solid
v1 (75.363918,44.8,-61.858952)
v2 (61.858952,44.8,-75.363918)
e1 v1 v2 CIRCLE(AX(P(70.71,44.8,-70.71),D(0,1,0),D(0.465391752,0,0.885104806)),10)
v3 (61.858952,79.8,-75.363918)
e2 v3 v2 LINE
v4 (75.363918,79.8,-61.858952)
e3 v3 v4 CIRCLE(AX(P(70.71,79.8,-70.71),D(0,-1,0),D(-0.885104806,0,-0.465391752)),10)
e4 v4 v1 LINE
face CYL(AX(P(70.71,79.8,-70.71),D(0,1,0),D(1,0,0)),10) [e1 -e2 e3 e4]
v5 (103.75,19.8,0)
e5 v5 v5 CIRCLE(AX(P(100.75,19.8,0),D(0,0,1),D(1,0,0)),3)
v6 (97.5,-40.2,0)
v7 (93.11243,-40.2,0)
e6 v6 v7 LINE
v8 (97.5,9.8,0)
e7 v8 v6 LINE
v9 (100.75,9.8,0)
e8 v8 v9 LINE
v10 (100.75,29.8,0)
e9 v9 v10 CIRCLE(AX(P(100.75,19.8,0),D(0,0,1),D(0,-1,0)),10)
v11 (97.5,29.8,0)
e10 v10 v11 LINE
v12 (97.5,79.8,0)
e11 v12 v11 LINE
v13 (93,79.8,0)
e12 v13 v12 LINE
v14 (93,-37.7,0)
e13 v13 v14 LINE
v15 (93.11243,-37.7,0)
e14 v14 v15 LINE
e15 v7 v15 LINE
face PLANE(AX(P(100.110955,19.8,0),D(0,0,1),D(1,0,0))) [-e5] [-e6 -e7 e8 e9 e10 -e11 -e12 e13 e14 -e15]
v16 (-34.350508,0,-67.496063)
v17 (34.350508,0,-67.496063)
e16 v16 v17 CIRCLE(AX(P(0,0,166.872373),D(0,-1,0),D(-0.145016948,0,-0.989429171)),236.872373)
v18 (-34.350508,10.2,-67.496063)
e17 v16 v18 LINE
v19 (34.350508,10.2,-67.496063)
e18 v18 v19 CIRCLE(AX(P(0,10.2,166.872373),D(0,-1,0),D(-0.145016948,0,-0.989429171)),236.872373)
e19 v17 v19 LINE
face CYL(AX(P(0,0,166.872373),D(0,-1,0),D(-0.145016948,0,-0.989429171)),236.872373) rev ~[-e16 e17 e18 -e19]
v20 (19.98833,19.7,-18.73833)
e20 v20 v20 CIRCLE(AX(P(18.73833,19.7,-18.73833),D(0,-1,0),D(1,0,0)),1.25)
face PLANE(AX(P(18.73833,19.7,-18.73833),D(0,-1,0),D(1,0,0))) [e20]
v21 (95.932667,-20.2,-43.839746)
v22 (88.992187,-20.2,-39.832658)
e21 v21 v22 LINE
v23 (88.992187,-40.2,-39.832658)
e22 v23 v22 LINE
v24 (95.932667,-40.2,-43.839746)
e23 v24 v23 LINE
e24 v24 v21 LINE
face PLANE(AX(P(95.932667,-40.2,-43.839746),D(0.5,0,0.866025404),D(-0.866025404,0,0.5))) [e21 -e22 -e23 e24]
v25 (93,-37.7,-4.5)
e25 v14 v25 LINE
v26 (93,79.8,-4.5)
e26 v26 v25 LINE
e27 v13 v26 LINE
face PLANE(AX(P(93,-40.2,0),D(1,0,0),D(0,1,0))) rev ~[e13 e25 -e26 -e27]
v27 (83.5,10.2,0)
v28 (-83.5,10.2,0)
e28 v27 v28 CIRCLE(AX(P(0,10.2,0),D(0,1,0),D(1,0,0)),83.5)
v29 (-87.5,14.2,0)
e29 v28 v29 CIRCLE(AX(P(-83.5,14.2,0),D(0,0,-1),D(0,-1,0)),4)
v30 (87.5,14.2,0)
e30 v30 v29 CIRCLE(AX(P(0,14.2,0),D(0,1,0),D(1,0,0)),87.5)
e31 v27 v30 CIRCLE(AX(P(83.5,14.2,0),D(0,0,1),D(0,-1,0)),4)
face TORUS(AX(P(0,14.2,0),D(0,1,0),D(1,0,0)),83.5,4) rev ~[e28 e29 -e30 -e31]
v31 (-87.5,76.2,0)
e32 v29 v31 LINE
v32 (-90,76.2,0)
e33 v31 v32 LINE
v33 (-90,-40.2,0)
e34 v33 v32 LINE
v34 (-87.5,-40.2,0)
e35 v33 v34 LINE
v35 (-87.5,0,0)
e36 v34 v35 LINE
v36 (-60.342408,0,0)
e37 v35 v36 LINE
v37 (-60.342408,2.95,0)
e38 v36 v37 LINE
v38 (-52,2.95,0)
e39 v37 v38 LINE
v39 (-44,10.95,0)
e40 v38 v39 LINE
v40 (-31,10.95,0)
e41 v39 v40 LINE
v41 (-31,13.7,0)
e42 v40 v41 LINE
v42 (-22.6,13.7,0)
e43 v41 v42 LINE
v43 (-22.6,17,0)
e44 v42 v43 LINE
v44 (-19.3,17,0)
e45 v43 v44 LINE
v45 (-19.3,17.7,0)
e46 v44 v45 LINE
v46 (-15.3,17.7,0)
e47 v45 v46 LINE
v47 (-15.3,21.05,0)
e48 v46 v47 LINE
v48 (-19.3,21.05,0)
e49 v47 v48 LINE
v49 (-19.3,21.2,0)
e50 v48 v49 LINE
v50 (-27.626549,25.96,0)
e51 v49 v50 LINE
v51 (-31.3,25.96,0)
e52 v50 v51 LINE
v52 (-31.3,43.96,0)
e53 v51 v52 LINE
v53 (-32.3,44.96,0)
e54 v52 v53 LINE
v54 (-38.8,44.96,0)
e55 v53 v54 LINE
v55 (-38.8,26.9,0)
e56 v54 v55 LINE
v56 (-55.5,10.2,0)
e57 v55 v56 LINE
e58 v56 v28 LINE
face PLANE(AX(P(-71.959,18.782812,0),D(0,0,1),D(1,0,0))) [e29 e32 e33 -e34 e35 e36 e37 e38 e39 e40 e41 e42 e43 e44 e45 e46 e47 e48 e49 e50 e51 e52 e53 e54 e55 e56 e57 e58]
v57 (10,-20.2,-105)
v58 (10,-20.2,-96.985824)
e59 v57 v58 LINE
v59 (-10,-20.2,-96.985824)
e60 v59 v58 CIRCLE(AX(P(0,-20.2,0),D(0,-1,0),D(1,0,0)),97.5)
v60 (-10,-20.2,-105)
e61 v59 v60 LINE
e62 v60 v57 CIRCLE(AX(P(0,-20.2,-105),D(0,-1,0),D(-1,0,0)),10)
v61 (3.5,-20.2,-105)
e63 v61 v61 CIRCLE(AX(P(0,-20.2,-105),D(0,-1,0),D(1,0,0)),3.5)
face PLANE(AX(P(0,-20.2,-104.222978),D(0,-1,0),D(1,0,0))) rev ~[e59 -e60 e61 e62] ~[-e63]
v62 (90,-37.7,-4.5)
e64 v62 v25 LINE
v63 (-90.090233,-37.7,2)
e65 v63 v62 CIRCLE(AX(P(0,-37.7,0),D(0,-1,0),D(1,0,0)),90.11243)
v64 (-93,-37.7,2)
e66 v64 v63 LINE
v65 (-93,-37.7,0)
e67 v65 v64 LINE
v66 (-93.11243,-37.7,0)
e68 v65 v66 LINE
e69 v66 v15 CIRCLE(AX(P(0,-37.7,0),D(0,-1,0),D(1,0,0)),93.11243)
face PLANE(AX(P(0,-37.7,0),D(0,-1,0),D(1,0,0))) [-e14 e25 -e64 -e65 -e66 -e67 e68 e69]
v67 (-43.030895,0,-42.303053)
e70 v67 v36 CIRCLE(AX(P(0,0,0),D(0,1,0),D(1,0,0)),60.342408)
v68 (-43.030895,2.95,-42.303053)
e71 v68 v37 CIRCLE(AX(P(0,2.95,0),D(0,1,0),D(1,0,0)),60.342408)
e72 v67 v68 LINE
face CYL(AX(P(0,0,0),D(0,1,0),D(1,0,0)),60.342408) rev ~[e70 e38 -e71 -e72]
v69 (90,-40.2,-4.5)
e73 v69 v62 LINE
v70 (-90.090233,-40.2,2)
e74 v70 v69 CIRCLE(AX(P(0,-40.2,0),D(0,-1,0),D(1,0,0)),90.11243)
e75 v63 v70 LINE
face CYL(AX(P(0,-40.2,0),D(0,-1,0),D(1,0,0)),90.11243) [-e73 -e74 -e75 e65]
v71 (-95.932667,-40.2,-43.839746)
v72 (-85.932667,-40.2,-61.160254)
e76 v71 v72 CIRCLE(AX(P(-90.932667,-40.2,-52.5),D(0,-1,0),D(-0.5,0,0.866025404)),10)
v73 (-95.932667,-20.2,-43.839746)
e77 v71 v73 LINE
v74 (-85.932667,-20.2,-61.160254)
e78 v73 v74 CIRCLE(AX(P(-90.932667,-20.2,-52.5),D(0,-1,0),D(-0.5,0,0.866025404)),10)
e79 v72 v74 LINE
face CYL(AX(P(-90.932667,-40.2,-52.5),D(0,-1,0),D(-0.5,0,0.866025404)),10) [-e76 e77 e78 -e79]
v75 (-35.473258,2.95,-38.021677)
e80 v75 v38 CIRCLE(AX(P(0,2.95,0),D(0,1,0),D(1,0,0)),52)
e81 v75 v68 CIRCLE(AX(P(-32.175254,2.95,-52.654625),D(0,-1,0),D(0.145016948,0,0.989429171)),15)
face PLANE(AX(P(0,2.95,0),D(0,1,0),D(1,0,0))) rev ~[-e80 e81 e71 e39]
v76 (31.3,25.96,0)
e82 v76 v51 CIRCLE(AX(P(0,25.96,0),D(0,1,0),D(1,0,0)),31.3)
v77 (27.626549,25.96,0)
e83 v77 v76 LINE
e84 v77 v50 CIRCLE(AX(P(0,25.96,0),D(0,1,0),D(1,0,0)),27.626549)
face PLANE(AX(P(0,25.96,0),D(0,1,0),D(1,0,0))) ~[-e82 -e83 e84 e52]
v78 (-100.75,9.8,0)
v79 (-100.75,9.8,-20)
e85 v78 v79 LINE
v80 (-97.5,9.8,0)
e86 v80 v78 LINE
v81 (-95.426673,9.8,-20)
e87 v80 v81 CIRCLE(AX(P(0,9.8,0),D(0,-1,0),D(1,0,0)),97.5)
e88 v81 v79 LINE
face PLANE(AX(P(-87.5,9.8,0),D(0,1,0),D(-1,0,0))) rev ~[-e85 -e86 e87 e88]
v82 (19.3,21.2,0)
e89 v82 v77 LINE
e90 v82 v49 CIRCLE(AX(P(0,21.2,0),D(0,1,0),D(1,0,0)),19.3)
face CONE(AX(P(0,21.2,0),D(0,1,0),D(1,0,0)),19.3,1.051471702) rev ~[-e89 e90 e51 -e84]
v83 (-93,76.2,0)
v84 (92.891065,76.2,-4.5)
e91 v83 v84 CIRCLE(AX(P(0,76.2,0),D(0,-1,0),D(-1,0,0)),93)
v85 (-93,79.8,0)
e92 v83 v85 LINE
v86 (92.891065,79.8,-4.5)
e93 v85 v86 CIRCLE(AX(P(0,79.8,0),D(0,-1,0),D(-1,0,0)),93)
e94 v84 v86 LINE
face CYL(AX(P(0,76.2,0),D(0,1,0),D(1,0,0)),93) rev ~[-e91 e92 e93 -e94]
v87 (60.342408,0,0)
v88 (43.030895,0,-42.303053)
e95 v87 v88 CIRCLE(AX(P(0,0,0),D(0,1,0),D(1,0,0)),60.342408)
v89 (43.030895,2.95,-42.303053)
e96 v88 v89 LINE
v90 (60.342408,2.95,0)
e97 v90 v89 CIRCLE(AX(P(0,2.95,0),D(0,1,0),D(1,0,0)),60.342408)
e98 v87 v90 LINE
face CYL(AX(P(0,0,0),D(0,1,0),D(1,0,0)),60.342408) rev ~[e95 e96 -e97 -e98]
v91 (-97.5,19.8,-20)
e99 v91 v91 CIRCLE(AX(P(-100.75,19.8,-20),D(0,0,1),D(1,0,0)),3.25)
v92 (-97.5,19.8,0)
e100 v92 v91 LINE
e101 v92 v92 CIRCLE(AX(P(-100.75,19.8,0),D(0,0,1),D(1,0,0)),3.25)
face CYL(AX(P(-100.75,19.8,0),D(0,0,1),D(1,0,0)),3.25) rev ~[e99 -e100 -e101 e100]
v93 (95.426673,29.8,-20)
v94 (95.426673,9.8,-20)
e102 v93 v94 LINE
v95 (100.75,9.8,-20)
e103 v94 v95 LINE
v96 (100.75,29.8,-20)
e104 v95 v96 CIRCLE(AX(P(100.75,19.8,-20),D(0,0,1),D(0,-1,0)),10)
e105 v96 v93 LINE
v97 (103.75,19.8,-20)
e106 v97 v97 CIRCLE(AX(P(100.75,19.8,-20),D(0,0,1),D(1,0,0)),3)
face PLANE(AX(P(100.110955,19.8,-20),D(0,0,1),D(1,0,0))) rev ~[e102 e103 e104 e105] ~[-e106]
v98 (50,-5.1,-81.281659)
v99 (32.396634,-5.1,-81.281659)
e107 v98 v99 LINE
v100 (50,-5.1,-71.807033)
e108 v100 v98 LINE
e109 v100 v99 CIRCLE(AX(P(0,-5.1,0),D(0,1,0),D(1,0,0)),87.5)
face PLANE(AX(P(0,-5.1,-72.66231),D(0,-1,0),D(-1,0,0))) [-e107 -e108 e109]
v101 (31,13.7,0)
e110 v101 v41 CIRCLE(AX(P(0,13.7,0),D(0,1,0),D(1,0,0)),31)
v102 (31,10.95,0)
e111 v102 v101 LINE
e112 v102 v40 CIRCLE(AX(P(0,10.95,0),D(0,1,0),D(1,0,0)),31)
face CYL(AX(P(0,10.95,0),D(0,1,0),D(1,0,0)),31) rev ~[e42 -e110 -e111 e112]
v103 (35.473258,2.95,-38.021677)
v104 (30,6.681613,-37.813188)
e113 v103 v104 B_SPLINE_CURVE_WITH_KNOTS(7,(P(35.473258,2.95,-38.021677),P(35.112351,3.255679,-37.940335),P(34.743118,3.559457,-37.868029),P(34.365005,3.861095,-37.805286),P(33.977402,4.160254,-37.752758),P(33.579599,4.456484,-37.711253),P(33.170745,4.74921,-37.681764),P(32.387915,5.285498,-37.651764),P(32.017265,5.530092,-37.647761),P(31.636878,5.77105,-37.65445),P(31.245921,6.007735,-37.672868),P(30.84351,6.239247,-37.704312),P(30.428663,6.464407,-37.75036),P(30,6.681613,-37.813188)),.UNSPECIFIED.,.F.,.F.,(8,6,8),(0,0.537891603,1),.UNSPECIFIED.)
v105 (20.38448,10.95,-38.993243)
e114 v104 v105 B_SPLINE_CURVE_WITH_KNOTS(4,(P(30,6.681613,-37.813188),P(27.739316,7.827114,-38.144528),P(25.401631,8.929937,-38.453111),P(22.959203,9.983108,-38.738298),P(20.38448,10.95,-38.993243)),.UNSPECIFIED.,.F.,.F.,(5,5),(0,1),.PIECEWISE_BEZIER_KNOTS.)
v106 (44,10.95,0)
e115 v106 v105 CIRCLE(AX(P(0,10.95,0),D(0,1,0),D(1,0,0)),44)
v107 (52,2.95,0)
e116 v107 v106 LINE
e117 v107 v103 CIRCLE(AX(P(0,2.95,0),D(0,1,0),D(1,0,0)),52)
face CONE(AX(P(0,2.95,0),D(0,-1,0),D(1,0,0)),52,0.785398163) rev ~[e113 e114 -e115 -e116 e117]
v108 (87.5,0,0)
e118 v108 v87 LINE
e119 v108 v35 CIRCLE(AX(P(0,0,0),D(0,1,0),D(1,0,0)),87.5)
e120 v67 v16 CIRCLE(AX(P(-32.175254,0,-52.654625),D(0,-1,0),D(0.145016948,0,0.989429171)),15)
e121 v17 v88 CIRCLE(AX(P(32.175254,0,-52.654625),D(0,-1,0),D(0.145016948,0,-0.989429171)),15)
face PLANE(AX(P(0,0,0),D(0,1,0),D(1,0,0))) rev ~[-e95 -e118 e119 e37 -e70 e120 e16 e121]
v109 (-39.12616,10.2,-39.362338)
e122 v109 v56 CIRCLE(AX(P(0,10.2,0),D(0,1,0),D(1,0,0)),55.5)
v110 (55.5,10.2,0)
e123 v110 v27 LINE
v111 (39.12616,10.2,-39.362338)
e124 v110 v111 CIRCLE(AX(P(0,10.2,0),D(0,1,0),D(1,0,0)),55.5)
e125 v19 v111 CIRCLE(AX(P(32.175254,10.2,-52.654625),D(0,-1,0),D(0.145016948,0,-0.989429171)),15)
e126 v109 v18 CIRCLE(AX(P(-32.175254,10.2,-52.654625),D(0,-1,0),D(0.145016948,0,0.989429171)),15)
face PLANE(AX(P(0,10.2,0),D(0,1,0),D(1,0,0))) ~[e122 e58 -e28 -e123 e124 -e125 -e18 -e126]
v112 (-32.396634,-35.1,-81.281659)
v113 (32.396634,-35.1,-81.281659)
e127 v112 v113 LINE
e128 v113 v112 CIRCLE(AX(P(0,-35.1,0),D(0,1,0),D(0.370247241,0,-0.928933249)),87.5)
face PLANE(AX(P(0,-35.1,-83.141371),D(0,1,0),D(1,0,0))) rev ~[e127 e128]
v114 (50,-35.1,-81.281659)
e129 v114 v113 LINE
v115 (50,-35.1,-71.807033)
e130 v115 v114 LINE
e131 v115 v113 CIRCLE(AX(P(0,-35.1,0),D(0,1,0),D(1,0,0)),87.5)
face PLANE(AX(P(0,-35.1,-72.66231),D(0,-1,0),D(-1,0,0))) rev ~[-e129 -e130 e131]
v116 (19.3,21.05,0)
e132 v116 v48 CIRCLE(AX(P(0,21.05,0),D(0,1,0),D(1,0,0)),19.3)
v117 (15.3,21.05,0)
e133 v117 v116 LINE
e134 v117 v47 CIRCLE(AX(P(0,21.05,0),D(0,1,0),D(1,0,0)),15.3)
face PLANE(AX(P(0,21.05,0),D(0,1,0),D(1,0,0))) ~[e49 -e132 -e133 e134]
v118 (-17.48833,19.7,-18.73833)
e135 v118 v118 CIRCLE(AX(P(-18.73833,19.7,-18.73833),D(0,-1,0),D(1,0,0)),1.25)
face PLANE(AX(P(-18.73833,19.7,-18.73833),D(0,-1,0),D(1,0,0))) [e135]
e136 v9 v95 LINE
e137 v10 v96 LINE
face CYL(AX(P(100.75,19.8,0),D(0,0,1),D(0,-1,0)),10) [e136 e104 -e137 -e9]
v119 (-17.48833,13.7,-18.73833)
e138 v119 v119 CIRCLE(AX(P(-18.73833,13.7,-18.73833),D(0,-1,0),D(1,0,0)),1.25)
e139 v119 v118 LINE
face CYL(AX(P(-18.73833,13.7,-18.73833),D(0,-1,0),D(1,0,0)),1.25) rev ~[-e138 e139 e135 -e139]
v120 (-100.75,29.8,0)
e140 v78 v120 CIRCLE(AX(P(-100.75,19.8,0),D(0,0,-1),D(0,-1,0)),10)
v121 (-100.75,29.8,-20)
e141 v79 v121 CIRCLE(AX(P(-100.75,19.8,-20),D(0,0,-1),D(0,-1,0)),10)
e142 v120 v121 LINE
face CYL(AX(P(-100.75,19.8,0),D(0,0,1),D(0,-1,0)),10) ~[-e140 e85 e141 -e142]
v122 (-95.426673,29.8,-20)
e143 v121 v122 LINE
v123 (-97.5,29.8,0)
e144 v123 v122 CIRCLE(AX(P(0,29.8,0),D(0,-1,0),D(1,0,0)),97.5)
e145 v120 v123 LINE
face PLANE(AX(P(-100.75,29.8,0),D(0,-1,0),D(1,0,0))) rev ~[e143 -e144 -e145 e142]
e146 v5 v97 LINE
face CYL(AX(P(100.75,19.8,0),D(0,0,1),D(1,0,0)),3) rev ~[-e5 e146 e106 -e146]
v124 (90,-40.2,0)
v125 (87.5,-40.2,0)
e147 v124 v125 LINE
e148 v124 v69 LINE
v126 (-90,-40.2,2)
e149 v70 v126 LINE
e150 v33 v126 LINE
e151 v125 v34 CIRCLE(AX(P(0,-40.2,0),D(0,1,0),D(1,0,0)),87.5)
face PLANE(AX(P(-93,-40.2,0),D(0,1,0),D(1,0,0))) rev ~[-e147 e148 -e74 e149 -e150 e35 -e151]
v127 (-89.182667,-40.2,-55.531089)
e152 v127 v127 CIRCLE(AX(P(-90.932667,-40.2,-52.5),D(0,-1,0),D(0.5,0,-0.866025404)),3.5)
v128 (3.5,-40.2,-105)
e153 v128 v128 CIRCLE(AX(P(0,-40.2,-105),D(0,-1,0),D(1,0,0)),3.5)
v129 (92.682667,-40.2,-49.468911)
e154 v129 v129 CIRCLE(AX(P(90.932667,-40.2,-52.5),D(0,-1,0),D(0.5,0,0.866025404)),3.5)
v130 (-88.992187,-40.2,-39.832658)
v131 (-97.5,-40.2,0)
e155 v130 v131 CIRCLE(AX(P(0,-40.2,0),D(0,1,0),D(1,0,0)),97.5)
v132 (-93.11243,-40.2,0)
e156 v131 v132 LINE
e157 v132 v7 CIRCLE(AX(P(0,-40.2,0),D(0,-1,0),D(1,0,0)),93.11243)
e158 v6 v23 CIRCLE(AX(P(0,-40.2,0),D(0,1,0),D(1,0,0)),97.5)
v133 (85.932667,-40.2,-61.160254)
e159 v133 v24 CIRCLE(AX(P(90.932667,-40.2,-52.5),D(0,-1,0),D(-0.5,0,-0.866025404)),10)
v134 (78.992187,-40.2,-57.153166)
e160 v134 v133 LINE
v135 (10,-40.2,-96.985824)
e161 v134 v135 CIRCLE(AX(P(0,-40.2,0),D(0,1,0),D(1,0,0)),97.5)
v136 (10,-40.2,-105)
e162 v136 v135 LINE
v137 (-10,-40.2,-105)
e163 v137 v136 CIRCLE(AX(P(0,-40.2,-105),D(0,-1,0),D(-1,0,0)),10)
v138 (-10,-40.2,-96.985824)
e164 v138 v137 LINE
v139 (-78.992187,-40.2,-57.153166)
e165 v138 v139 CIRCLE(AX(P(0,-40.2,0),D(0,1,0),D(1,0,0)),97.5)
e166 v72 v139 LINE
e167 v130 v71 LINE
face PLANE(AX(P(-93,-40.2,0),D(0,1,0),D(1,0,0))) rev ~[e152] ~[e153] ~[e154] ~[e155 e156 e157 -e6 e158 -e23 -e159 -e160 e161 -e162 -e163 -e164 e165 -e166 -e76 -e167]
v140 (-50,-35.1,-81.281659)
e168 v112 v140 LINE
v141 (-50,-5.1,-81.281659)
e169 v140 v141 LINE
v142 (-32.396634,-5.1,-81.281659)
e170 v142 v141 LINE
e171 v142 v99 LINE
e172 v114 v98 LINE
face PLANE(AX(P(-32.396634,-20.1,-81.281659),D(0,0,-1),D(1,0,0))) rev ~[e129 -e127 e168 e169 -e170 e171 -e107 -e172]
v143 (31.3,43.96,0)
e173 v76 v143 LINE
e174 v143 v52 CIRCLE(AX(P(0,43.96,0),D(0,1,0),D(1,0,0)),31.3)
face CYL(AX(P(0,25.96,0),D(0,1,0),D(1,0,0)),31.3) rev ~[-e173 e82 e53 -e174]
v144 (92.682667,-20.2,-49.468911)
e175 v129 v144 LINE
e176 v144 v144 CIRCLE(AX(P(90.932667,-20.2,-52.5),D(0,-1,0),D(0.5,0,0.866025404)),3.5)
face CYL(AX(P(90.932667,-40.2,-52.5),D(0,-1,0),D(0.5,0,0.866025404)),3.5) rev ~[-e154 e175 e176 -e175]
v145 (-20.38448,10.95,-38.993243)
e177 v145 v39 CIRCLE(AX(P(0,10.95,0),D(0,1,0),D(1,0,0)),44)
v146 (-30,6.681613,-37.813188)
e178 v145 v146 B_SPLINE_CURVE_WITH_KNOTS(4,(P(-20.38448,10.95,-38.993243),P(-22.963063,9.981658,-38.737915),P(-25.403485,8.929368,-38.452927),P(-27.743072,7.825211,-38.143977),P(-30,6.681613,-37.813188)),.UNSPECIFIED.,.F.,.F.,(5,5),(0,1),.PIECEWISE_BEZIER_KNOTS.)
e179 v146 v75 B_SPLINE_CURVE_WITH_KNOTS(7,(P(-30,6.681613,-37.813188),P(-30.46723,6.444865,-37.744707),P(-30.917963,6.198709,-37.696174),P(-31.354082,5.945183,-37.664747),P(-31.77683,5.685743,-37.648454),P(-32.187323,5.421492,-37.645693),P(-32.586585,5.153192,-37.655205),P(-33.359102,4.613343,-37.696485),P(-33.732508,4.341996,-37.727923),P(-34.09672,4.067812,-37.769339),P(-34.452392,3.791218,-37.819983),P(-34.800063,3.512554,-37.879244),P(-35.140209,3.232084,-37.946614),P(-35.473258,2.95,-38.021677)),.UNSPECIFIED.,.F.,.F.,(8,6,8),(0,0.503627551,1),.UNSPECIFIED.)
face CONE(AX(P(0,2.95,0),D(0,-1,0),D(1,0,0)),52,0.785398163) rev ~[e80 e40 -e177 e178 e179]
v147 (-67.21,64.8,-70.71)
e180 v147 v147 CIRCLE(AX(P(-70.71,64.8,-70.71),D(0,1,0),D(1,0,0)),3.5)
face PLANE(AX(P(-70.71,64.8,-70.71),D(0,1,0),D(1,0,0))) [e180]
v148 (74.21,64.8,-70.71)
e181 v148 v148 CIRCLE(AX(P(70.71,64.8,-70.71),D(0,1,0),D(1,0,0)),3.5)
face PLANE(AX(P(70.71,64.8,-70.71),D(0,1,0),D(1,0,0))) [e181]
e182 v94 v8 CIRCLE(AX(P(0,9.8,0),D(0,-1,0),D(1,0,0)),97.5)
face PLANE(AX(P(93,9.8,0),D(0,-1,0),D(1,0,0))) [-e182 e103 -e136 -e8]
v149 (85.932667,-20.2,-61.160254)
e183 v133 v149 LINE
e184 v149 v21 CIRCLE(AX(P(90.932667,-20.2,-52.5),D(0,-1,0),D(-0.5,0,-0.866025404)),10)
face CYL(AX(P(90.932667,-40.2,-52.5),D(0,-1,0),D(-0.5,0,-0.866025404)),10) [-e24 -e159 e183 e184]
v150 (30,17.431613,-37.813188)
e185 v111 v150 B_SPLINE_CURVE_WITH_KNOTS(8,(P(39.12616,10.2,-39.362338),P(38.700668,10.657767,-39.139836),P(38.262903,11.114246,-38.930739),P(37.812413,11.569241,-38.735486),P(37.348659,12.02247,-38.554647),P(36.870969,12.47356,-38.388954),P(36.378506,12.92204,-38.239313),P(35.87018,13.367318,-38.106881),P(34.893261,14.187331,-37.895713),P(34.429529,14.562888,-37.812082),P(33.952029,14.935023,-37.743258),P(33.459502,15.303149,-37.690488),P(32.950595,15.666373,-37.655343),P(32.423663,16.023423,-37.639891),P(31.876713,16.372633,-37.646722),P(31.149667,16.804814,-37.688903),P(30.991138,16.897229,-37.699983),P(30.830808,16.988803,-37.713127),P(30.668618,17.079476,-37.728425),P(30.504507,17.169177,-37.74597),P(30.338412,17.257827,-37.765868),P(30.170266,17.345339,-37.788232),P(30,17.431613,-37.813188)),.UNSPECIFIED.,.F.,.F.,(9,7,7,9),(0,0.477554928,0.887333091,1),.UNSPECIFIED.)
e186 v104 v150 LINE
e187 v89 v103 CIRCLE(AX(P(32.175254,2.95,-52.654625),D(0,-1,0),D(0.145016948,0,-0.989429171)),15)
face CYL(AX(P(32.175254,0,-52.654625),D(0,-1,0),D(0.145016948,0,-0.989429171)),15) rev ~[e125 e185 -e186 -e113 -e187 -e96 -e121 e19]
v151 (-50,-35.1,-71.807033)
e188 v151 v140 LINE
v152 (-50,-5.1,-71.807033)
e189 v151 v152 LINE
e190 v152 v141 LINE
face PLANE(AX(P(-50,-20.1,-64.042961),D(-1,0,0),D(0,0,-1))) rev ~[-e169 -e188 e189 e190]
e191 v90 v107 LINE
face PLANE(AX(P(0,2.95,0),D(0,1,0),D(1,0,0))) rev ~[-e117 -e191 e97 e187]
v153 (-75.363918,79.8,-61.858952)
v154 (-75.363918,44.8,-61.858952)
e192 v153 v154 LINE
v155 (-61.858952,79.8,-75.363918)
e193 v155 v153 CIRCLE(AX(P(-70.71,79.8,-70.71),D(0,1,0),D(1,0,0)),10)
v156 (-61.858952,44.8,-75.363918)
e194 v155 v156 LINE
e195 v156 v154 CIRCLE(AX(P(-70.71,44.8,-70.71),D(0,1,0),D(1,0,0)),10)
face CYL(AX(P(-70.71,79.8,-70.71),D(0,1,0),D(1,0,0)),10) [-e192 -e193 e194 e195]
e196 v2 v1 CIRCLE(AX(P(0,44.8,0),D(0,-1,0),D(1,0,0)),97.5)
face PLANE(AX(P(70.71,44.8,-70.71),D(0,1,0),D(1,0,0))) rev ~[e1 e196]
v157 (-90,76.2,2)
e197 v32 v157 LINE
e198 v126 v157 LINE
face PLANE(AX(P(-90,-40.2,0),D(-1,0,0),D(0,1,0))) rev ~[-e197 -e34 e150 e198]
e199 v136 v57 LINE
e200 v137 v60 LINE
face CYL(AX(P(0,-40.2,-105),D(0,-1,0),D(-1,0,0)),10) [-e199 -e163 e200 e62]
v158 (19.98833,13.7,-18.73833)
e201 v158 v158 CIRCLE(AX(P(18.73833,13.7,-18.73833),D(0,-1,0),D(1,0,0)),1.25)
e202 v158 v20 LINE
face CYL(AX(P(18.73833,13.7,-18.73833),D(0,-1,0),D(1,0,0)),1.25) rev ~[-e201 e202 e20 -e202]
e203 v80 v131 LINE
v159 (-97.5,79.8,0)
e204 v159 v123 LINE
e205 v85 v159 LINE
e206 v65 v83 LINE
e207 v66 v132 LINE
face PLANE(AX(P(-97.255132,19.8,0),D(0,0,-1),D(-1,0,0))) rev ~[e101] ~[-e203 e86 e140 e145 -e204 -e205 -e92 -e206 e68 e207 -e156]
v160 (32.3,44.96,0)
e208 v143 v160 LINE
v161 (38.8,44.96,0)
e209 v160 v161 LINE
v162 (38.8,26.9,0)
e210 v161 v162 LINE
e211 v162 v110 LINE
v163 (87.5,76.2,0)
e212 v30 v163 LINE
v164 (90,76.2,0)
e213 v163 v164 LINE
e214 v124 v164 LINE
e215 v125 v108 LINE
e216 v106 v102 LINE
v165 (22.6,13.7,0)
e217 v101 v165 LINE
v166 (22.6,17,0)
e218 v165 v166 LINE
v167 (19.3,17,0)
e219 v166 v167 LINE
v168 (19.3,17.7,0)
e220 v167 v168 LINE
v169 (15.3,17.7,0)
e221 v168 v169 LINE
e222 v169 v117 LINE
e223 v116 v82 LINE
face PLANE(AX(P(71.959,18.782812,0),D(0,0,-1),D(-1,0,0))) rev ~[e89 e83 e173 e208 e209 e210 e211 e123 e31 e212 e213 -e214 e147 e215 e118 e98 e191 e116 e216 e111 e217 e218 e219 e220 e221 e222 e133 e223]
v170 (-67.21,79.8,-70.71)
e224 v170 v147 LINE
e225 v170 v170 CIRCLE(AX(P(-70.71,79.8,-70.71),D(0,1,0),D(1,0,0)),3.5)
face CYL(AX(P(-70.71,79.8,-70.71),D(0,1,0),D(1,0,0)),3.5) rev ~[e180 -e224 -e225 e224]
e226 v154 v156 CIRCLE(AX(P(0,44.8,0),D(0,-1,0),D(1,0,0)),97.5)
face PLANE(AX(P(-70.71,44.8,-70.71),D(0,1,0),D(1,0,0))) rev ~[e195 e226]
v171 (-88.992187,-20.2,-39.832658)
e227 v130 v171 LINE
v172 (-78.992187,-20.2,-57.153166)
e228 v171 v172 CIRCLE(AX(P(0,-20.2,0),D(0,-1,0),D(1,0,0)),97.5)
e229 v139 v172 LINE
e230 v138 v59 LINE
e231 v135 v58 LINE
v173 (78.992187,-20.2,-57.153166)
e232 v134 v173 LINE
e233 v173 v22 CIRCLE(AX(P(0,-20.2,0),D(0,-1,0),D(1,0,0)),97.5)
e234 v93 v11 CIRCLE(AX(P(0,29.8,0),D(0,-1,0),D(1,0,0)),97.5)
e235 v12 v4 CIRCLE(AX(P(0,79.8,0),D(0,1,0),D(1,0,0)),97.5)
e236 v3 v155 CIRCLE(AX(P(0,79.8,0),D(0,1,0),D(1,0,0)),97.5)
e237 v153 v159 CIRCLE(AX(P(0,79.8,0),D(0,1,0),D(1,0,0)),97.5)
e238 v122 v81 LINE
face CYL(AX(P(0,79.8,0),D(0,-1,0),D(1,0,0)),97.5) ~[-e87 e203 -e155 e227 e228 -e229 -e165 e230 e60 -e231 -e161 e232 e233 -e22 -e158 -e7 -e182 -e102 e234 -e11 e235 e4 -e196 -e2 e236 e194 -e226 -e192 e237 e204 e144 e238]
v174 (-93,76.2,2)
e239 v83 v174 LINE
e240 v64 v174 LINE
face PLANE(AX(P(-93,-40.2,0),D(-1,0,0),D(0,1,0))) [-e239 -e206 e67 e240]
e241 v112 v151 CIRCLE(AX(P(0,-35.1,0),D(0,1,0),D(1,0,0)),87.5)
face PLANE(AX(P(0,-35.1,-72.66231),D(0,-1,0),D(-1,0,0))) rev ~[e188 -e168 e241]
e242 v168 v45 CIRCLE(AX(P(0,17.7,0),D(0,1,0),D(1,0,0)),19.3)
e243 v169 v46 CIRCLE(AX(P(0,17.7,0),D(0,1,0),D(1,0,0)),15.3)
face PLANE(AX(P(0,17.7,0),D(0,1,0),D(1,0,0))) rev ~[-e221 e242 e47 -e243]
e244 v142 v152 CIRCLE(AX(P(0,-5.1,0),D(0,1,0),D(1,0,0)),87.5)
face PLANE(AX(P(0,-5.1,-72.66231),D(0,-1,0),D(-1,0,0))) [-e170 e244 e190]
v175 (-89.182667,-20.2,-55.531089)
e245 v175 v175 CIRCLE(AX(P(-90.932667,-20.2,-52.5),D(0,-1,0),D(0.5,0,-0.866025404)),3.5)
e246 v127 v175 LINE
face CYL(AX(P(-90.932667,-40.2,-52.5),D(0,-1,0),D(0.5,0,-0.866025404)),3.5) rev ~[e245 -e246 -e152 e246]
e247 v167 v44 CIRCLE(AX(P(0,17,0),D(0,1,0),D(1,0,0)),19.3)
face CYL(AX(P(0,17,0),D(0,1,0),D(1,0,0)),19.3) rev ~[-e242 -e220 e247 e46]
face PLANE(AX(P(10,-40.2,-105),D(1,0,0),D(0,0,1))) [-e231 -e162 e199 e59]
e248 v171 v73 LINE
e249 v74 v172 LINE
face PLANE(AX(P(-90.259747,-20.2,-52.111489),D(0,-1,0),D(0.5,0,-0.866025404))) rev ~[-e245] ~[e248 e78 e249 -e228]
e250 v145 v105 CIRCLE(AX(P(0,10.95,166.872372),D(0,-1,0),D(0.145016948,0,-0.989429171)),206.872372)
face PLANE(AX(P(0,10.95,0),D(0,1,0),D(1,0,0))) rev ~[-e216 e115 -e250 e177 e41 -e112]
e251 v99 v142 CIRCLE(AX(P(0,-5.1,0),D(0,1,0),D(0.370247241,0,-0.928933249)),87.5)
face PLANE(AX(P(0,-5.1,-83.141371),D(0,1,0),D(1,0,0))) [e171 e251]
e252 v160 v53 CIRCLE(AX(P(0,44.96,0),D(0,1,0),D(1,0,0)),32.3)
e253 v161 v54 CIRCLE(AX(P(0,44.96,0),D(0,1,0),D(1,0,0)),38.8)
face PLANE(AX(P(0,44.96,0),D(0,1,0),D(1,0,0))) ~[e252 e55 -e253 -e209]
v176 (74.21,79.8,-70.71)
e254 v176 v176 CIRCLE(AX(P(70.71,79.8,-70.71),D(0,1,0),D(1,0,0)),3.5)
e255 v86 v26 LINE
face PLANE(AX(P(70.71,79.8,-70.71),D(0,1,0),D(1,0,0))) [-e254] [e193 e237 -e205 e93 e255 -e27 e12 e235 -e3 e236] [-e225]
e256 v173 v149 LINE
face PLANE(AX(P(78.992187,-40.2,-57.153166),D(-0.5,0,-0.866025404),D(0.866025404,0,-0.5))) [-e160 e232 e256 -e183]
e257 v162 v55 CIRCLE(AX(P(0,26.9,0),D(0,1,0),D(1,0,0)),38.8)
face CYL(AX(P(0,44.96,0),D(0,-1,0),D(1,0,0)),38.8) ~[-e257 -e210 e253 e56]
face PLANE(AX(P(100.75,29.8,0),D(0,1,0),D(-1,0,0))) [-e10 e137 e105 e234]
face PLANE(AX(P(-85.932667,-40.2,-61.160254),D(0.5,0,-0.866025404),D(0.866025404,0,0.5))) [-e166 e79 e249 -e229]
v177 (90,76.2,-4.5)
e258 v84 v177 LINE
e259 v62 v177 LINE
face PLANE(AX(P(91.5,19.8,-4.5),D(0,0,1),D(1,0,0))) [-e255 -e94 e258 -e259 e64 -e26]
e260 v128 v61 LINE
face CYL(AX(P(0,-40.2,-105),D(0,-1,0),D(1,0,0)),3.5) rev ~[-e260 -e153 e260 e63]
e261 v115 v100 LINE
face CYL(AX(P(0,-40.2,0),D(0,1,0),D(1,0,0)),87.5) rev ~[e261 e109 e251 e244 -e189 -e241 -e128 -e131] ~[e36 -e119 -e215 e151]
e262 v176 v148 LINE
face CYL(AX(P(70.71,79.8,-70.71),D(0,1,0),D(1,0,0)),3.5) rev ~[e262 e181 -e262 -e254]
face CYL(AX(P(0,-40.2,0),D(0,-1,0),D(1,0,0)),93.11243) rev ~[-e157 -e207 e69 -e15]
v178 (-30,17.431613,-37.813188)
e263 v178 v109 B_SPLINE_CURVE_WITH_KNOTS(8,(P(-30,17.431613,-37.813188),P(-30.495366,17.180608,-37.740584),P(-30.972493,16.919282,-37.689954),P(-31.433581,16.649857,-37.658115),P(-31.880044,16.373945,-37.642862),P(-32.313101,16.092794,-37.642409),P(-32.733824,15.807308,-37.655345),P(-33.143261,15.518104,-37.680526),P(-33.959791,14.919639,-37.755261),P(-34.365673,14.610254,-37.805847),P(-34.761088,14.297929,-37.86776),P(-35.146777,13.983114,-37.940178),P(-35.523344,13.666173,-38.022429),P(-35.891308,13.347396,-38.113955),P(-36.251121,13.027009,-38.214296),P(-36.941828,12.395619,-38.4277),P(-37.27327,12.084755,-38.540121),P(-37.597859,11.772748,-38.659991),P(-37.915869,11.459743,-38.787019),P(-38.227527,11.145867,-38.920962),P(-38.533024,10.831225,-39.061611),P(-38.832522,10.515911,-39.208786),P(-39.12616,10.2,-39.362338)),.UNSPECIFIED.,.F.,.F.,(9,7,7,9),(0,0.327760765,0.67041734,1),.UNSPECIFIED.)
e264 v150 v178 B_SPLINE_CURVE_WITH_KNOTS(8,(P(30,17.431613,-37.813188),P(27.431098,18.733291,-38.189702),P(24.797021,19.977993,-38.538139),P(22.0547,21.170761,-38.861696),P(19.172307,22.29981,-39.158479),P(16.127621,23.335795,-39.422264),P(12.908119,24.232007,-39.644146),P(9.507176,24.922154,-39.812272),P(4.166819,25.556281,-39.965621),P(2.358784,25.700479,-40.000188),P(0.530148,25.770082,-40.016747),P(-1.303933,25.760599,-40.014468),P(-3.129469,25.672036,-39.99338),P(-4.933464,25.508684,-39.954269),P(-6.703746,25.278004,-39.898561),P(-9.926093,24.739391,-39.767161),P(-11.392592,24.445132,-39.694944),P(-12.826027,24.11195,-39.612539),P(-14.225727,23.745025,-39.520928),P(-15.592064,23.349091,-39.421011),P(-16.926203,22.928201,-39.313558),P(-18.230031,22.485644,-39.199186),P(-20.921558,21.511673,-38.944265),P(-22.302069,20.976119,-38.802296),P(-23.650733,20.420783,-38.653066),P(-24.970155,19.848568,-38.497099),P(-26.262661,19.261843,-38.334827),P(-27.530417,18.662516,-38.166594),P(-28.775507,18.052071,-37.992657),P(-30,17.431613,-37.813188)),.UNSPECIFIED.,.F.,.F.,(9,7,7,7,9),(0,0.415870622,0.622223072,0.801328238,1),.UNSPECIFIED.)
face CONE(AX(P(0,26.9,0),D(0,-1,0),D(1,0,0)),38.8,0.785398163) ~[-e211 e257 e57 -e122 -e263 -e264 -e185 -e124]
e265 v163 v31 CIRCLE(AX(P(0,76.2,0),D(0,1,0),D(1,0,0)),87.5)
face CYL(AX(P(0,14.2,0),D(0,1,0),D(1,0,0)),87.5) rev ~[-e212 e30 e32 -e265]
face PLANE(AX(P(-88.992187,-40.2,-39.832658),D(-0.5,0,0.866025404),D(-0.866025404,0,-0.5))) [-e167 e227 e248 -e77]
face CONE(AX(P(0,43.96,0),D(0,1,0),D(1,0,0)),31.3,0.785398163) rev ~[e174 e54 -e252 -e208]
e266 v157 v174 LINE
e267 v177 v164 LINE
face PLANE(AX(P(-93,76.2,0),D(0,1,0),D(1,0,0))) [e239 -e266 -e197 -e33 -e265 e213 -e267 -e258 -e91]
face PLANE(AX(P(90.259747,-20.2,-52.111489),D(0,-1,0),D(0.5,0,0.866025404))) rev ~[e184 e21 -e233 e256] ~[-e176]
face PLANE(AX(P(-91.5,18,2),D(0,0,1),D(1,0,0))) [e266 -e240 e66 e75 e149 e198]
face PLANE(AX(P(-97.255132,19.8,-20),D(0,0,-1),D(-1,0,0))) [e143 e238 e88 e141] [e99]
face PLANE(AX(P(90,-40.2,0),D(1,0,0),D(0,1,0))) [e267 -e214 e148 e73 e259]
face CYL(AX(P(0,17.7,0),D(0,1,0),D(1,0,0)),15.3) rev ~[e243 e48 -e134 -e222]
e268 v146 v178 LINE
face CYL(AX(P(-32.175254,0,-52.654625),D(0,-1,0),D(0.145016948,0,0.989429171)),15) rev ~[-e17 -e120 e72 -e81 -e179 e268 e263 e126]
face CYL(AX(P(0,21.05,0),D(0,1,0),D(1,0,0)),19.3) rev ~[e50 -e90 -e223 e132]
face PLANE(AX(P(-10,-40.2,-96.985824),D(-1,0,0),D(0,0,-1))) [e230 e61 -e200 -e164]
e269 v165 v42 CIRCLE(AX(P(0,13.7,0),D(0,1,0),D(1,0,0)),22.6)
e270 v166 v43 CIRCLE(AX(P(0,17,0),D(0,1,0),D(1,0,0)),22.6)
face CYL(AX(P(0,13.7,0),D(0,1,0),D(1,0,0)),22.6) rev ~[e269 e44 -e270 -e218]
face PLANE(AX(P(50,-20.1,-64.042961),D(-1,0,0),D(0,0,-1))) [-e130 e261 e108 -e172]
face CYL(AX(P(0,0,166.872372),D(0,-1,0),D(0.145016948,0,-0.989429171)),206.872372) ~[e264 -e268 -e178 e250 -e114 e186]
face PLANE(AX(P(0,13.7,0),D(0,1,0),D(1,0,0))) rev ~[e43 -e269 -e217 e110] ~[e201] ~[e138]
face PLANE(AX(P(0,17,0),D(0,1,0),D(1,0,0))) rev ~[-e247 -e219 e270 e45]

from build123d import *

# Parameters (mm, degrees)
REVOLU_O2_ANGLE          = 180
ESBO_O4_R                = 10
RESSALTO_EXTRUS_O1_DEPTH = 35
RESSALTO_EXTRUS_O2_DEPTH = 20
ESBO_O8_R                = 3.5
CORTE_EXTRUS_O2_DEPTH    = 20
PADR_OCIRCULAR1_COUNT    = 6
ESBO_O6_R                = 3.5
CORTE_EXTRUS_O1_DEPTH    = 15
ESBO_O9_R                = 1.25
CORTE_EXTRUS_O3_DEPTH    = 6
ESBO_O10_W               = 3
ESBO_O10_H               = 120
CORTE_EXTRUS_O4_DEPTH    = 4.5
ESBO_O11_W               = 3
ESBO_O11_H               = 116.4
RESSALTO_EXTRUS_O5_DEPTH = 2
ESBO_O12_R               = 3.25
RESSALTO_EXTRUS_O6_DEPTH = 20
ESBO_O13_R               = 3
RESSALTO_EXTRUS_O7_DEPTH = 20
CORTE_EXTRUS_O5_DEPTH    = 80.8
ESBO_O16_R               = 93
CORTE_EXTRUS_O6_DEPTH    = 10
ESBO_O17_R               = 93.112429775
ESBO_O17_R_2             = 90.112429775
CORTE_EXTRUS_O7_DEPTH    = 2.5
ESBO_O18_W               = 100
ESBO_O18_H               = 17.238697901
CORTE_EXTRUS_O8_DEPTH    = 15
RESSALTO_EXTRUS_O9_DEPTH = 15


with BuildPart() as part:
    # Esboço3 → Revolução2 (revolve)
    with BuildSketch(Plane.XY):
        with BuildLine():
            Line((97.5, 79.8), (97.5, 11.304491341))
            Line((97.5, 11.304491341), (97.5, 0))
            Line((97.5, 0), (97.5, -40.2))
            Line((97.5, -40.2), (87.5, -40.2))
            Line((87.5, -40.2), (87.5, 0))
            Line((87.5, 0), (60.342408243, 0))
            Line((60.342408243, 0), (60.342408243, 2.95))
            Line((60.342408243, 2.95), (52, 2.95))
            Line((52, 2.95), (44, 10.95))
            Line((44, 10.95), (31, 10.95))
            Line((31, 10.95), (31, 13.7))
            Line((31, 13.7), (22.6, 13.7))
            Line((22.6, 13.7), (22.6, 17))
            Line((22.6, 17), (19.3, 17))
            Line((19.3, 17), (19.3, 17.7))
            Line((19.3, 17.7), (15.3, 17.7))
            Line((15.3, 17.7), (15.3, 21.05))
            Line((15.3, 21.05), (19.3, 21.05))
            Line((19.3, 21.05), (19.3, 21.2))
            Line((19.3, 21.2), (27.626549127, 25.96))
            Line((27.626549127, 25.96), (31.3, 25.96))
            Line((31.3, 25.96), (31.3, 43.96))
            Line((31.3, 43.96), (32.3, 44.96))
            Line((32.3, 44.96), (38.8, 44.96))
            Line((38.8, 44.96), (38.8, 26.9))
            Line((38.8, 26.9), (55.5, 10.2))
            Line((55.5, 10.2), (83.5, 10.2))
            ThreePointArc((83.5, 10.2), (86.328427125, 11.371572875), (87.5, 14.2))
            Line((87.5, 14.2), (87.5, 76.2))
            Line((87.5, 76.2), (93, 76.2))
            Line((93, 76.2), (93, 79.8))
            Line((93, 79.8), (97.5, 79.8))
        make_face()
    revolve(axis=Axis((0, -3.322055656, 0), (0, 1, 0)), revolution_arc=REVOLU_O2_ANGLE)

    # Esboço4 → Ressalto-extrusão1 (add)
    with BuildSketch(Plane(origin=(0, 79.8, 0), x_dir=(1, 0, 0), z_dir=(0, 1, 0))):
        with Locations((70.71, 70.71)):
            Circle(ESBO_O4_R)
        with Locations((-70.71, 70.71)):
            Circle(ESBO_O4_R)
    extrude(amount=-RESSALTO_EXTRUS_O1_DEPTH)

    # Esboço5 → Ressalto-extrusão2 (add)
    with BuildSketch(Plane.XZ.offset(40.2)):
        with BuildLine():
            Line((10, -105), (10, -96.985823706))
            Line((10, -96.985823706), (-10, -96.985823706))
            Line((-10, -96.985823706), (-10, -105))
            ThreePointArc((-10, -105), (0, -115), (10, -105))
        make_face()
    ressalto_extrus_o2 = extrude(amount=-RESSALTO_EXTRUS_O2_DEPTH)

    # Esboço8 → Corte-extrusão2 (cut)
    with BuildSketch(Plane.XZ.offset(40.2)):
        with Locations((0, -105)):
            Circle(ESBO_O8_R)
    corte_extrus_o2 = extrude(amount=-CORTE_EXTRUS_O2_DEPTH, mode=Mode.SUBTRACT)

    # PadrãoCircular1: Ressalto-extrusão2, Corte-extrusão2 ×6 about axis, 3 skipped
    padr_ocircular1_axis = Axis((0, 0, 0), (0, 1, 0))
    add([ressalto_extrus_o2.rotate(padr_ocircular1_axis, i * 360 / PADR_OCIRCULAR1_COUNT) for i in range(1, PADR_OCIRCULAR1_COUNT) if i not in (2, 3, 4)])
    add([corte_extrus_o2.rotate(padr_ocircular1_axis, i * 360 / PADR_OCIRCULAR1_COUNT) for i in range(1, PADR_OCIRCULAR1_COUNT) if i not in (2, 3, 4)], mode=Mode.SUBTRACT)

    # Esboço6 → Corte-extrusão1 (cut)
    with BuildSketch(Plane(origin=(0, 79.8, 0), x_dir=(1, 0, 0), z_dir=(0, 1, 0))):
        with Locations((70.71, 70.71)):
            Circle(ESBO_O6_R)
        with Locations((-70.71, 70.71)):
            Circle(ESBO_O6_R)
    extrude(amount=-CORTE_EXTRUS_O1_DEPTH, mode=Mode.SUBTRACT)

    # Esboço9 → Corte-extrusão3 (cut)
    with BuildSketch(Plane.XZ.offset(-13.7)):
        with Locations((18.738329701, -18.738329701)):
            Circle(ESBO_O9_R)
        with Locations((-18.738329701, -18.738329701)):
            Circle(ESBO_O9_R)
    extrude(amount=-CORTE_EXTRUS_O3_DEPTH, mode=Mode.SUBTRACT)

    # Esboço10 → Corte-extrusão4 (cut)
    with BuildSketch(Plane.XY):
        with Locations((91.5, 19.8)):
            Rectangle(ESBO_O10_W, ESBO_O10_H)
    extrude(amount=-CORTE_EXTRUS_O4_DEPTH, mode=Mode.SUBTRACT)

    # Esboço11 → Ressalto-extrusão5 (add)
    with BuildSketch(Plane.XY):
        with Locations((-91.5, 18)):
            Rectangle(ESBO_O11_W, ESBO_O11_H)
    extrude(amount=RESSALTO_EXTRUS_O5_DEPTH)

    # Esboço12 → Ressalto-extrusão6 (add)
    with BuildSketch(Plane.XY):
        with BuildLine():
            Line((-100.75, 29.8), (-87.5, 29.8))
            Line((-87.5, 29.8), (-87.5, 9.8))
            Line((-87.5, 9.8), (-100.75, 9.8))
            ThreePointArc((-100.75, 9.8), (-110.75, 19.8), (-100.75, 29.8))
        make_face()
        with Locations((-100.75, 19.8)):
            Circle(ESBO_O12_R, mode=Mode.SUBTRACT)
    extrude(amount=-RESSALTO_EXTRUS_O6_DEPTH)

    # Esboço13 → Ressalto-extrusão7 (add)
    with BuildSketch(Plane.XY):
        with BuildLine():
            Line((100.75, 29.8), (93, 29.8))
            Line((93, 29.8), (93, 9.8))
            Line((93, 9.8), (100.75, 9.8))
            ThreePointArc((100.75, 9.8), (110.75, 19.8), (100.75, 29.8))
        make_face()
        with Locations((100.75, 19.8)):
            Circle(ESBO_O13_R, mode=Mode.SUBTRACT)
    extrude(amount=-RESSALTO_EXTRUS_O7_DEPTH)

    # Esboço14 → Corte-extrusão5 (cut, through all)
    with BuildSketch(Plane(origin=(0, 0, 0), x_dir=(-1, 0, 0), z_dir=(0, -1, 0))):
        with BuildLine():
            ThreePointArc((34.350508428, 67.496062714), (0, 70), (-34.350508428, 67.496062714))
            ThreePointArc((-34.350508428, 67.496062714), (-47.016691783, 50.479370931), (-30, 37.813187576))
            ThreePointArc((-30, 37.813187576), (0, 40), (30, 37.813187576))
            ThreePointArc((30, 37.813187576), (47.016691783, 50.479370931), (34.350508428, 67.496062714))
        make_face()
    extrude(amount=-CORTE_EXTRUS_O5_DEPTH, mode=Mode.SUBTRACT)

    # Esboço16 → Corte-extrusão6 (cut)
    with BuildSketch(Plane(origin=(0, 76.2, 0), x_dir=(1, 0, 0), z_dir=(0, 1, 0))):
        Circle(ESBO_O16_R)
    extrude(amount=CORTE_EXTRUS_O6_DEPTH, mode=Mode.SUBTRACT)

    # Esboço17 → Corte-extrusão7 (cut)
    with BuildSketch(Plane.XZ.offset(40.2)):
        Circle(ESBO_O17_R)
        Circle(ESBO_O17_R_2, mode=Mode.SUBTRACT)
    extrude(amount=-CORTE_EXTRUS_O7_DEPTH, mode=Mode.SUBTRACT)

    # Esboço18 → Corte-extrusão8 (cut, symmetric)
    with BuildSketch(Plane(origin=(0, -20.1, 0), x_dir=(-1, 0, 0), z_dir=(0, -1, 0))):
        with Locations((0, 72.662310295)):
            Rectangle(ESBO_O18_W, ESBO_O18_H)
    extrude(amount=CORTE_EXTRUS_O8_DEPTH, both=True, mode=Mode.SUBTRACT)

    # Esboço19 → Ressalto-extrusão9 (add, symmetric)
    with BuildSketch(Plane(origin=(0, -20.1, 0), x_dir=(-1, 0, 0), z_dir=(0, -1, 0))):
        with BuildLine():
            Line((32.396633626, 81.281659245), (-32.396633626, 81.281659245))
            ThreePointArc((-32.396633626, 81.281659245), (0, 87.5), (32.396633626, 81.281659245))
        make_face()
    extrude(amount=RESSALTO_EXTRUS_O9_DEPTH, both=True)


solid = part.part
